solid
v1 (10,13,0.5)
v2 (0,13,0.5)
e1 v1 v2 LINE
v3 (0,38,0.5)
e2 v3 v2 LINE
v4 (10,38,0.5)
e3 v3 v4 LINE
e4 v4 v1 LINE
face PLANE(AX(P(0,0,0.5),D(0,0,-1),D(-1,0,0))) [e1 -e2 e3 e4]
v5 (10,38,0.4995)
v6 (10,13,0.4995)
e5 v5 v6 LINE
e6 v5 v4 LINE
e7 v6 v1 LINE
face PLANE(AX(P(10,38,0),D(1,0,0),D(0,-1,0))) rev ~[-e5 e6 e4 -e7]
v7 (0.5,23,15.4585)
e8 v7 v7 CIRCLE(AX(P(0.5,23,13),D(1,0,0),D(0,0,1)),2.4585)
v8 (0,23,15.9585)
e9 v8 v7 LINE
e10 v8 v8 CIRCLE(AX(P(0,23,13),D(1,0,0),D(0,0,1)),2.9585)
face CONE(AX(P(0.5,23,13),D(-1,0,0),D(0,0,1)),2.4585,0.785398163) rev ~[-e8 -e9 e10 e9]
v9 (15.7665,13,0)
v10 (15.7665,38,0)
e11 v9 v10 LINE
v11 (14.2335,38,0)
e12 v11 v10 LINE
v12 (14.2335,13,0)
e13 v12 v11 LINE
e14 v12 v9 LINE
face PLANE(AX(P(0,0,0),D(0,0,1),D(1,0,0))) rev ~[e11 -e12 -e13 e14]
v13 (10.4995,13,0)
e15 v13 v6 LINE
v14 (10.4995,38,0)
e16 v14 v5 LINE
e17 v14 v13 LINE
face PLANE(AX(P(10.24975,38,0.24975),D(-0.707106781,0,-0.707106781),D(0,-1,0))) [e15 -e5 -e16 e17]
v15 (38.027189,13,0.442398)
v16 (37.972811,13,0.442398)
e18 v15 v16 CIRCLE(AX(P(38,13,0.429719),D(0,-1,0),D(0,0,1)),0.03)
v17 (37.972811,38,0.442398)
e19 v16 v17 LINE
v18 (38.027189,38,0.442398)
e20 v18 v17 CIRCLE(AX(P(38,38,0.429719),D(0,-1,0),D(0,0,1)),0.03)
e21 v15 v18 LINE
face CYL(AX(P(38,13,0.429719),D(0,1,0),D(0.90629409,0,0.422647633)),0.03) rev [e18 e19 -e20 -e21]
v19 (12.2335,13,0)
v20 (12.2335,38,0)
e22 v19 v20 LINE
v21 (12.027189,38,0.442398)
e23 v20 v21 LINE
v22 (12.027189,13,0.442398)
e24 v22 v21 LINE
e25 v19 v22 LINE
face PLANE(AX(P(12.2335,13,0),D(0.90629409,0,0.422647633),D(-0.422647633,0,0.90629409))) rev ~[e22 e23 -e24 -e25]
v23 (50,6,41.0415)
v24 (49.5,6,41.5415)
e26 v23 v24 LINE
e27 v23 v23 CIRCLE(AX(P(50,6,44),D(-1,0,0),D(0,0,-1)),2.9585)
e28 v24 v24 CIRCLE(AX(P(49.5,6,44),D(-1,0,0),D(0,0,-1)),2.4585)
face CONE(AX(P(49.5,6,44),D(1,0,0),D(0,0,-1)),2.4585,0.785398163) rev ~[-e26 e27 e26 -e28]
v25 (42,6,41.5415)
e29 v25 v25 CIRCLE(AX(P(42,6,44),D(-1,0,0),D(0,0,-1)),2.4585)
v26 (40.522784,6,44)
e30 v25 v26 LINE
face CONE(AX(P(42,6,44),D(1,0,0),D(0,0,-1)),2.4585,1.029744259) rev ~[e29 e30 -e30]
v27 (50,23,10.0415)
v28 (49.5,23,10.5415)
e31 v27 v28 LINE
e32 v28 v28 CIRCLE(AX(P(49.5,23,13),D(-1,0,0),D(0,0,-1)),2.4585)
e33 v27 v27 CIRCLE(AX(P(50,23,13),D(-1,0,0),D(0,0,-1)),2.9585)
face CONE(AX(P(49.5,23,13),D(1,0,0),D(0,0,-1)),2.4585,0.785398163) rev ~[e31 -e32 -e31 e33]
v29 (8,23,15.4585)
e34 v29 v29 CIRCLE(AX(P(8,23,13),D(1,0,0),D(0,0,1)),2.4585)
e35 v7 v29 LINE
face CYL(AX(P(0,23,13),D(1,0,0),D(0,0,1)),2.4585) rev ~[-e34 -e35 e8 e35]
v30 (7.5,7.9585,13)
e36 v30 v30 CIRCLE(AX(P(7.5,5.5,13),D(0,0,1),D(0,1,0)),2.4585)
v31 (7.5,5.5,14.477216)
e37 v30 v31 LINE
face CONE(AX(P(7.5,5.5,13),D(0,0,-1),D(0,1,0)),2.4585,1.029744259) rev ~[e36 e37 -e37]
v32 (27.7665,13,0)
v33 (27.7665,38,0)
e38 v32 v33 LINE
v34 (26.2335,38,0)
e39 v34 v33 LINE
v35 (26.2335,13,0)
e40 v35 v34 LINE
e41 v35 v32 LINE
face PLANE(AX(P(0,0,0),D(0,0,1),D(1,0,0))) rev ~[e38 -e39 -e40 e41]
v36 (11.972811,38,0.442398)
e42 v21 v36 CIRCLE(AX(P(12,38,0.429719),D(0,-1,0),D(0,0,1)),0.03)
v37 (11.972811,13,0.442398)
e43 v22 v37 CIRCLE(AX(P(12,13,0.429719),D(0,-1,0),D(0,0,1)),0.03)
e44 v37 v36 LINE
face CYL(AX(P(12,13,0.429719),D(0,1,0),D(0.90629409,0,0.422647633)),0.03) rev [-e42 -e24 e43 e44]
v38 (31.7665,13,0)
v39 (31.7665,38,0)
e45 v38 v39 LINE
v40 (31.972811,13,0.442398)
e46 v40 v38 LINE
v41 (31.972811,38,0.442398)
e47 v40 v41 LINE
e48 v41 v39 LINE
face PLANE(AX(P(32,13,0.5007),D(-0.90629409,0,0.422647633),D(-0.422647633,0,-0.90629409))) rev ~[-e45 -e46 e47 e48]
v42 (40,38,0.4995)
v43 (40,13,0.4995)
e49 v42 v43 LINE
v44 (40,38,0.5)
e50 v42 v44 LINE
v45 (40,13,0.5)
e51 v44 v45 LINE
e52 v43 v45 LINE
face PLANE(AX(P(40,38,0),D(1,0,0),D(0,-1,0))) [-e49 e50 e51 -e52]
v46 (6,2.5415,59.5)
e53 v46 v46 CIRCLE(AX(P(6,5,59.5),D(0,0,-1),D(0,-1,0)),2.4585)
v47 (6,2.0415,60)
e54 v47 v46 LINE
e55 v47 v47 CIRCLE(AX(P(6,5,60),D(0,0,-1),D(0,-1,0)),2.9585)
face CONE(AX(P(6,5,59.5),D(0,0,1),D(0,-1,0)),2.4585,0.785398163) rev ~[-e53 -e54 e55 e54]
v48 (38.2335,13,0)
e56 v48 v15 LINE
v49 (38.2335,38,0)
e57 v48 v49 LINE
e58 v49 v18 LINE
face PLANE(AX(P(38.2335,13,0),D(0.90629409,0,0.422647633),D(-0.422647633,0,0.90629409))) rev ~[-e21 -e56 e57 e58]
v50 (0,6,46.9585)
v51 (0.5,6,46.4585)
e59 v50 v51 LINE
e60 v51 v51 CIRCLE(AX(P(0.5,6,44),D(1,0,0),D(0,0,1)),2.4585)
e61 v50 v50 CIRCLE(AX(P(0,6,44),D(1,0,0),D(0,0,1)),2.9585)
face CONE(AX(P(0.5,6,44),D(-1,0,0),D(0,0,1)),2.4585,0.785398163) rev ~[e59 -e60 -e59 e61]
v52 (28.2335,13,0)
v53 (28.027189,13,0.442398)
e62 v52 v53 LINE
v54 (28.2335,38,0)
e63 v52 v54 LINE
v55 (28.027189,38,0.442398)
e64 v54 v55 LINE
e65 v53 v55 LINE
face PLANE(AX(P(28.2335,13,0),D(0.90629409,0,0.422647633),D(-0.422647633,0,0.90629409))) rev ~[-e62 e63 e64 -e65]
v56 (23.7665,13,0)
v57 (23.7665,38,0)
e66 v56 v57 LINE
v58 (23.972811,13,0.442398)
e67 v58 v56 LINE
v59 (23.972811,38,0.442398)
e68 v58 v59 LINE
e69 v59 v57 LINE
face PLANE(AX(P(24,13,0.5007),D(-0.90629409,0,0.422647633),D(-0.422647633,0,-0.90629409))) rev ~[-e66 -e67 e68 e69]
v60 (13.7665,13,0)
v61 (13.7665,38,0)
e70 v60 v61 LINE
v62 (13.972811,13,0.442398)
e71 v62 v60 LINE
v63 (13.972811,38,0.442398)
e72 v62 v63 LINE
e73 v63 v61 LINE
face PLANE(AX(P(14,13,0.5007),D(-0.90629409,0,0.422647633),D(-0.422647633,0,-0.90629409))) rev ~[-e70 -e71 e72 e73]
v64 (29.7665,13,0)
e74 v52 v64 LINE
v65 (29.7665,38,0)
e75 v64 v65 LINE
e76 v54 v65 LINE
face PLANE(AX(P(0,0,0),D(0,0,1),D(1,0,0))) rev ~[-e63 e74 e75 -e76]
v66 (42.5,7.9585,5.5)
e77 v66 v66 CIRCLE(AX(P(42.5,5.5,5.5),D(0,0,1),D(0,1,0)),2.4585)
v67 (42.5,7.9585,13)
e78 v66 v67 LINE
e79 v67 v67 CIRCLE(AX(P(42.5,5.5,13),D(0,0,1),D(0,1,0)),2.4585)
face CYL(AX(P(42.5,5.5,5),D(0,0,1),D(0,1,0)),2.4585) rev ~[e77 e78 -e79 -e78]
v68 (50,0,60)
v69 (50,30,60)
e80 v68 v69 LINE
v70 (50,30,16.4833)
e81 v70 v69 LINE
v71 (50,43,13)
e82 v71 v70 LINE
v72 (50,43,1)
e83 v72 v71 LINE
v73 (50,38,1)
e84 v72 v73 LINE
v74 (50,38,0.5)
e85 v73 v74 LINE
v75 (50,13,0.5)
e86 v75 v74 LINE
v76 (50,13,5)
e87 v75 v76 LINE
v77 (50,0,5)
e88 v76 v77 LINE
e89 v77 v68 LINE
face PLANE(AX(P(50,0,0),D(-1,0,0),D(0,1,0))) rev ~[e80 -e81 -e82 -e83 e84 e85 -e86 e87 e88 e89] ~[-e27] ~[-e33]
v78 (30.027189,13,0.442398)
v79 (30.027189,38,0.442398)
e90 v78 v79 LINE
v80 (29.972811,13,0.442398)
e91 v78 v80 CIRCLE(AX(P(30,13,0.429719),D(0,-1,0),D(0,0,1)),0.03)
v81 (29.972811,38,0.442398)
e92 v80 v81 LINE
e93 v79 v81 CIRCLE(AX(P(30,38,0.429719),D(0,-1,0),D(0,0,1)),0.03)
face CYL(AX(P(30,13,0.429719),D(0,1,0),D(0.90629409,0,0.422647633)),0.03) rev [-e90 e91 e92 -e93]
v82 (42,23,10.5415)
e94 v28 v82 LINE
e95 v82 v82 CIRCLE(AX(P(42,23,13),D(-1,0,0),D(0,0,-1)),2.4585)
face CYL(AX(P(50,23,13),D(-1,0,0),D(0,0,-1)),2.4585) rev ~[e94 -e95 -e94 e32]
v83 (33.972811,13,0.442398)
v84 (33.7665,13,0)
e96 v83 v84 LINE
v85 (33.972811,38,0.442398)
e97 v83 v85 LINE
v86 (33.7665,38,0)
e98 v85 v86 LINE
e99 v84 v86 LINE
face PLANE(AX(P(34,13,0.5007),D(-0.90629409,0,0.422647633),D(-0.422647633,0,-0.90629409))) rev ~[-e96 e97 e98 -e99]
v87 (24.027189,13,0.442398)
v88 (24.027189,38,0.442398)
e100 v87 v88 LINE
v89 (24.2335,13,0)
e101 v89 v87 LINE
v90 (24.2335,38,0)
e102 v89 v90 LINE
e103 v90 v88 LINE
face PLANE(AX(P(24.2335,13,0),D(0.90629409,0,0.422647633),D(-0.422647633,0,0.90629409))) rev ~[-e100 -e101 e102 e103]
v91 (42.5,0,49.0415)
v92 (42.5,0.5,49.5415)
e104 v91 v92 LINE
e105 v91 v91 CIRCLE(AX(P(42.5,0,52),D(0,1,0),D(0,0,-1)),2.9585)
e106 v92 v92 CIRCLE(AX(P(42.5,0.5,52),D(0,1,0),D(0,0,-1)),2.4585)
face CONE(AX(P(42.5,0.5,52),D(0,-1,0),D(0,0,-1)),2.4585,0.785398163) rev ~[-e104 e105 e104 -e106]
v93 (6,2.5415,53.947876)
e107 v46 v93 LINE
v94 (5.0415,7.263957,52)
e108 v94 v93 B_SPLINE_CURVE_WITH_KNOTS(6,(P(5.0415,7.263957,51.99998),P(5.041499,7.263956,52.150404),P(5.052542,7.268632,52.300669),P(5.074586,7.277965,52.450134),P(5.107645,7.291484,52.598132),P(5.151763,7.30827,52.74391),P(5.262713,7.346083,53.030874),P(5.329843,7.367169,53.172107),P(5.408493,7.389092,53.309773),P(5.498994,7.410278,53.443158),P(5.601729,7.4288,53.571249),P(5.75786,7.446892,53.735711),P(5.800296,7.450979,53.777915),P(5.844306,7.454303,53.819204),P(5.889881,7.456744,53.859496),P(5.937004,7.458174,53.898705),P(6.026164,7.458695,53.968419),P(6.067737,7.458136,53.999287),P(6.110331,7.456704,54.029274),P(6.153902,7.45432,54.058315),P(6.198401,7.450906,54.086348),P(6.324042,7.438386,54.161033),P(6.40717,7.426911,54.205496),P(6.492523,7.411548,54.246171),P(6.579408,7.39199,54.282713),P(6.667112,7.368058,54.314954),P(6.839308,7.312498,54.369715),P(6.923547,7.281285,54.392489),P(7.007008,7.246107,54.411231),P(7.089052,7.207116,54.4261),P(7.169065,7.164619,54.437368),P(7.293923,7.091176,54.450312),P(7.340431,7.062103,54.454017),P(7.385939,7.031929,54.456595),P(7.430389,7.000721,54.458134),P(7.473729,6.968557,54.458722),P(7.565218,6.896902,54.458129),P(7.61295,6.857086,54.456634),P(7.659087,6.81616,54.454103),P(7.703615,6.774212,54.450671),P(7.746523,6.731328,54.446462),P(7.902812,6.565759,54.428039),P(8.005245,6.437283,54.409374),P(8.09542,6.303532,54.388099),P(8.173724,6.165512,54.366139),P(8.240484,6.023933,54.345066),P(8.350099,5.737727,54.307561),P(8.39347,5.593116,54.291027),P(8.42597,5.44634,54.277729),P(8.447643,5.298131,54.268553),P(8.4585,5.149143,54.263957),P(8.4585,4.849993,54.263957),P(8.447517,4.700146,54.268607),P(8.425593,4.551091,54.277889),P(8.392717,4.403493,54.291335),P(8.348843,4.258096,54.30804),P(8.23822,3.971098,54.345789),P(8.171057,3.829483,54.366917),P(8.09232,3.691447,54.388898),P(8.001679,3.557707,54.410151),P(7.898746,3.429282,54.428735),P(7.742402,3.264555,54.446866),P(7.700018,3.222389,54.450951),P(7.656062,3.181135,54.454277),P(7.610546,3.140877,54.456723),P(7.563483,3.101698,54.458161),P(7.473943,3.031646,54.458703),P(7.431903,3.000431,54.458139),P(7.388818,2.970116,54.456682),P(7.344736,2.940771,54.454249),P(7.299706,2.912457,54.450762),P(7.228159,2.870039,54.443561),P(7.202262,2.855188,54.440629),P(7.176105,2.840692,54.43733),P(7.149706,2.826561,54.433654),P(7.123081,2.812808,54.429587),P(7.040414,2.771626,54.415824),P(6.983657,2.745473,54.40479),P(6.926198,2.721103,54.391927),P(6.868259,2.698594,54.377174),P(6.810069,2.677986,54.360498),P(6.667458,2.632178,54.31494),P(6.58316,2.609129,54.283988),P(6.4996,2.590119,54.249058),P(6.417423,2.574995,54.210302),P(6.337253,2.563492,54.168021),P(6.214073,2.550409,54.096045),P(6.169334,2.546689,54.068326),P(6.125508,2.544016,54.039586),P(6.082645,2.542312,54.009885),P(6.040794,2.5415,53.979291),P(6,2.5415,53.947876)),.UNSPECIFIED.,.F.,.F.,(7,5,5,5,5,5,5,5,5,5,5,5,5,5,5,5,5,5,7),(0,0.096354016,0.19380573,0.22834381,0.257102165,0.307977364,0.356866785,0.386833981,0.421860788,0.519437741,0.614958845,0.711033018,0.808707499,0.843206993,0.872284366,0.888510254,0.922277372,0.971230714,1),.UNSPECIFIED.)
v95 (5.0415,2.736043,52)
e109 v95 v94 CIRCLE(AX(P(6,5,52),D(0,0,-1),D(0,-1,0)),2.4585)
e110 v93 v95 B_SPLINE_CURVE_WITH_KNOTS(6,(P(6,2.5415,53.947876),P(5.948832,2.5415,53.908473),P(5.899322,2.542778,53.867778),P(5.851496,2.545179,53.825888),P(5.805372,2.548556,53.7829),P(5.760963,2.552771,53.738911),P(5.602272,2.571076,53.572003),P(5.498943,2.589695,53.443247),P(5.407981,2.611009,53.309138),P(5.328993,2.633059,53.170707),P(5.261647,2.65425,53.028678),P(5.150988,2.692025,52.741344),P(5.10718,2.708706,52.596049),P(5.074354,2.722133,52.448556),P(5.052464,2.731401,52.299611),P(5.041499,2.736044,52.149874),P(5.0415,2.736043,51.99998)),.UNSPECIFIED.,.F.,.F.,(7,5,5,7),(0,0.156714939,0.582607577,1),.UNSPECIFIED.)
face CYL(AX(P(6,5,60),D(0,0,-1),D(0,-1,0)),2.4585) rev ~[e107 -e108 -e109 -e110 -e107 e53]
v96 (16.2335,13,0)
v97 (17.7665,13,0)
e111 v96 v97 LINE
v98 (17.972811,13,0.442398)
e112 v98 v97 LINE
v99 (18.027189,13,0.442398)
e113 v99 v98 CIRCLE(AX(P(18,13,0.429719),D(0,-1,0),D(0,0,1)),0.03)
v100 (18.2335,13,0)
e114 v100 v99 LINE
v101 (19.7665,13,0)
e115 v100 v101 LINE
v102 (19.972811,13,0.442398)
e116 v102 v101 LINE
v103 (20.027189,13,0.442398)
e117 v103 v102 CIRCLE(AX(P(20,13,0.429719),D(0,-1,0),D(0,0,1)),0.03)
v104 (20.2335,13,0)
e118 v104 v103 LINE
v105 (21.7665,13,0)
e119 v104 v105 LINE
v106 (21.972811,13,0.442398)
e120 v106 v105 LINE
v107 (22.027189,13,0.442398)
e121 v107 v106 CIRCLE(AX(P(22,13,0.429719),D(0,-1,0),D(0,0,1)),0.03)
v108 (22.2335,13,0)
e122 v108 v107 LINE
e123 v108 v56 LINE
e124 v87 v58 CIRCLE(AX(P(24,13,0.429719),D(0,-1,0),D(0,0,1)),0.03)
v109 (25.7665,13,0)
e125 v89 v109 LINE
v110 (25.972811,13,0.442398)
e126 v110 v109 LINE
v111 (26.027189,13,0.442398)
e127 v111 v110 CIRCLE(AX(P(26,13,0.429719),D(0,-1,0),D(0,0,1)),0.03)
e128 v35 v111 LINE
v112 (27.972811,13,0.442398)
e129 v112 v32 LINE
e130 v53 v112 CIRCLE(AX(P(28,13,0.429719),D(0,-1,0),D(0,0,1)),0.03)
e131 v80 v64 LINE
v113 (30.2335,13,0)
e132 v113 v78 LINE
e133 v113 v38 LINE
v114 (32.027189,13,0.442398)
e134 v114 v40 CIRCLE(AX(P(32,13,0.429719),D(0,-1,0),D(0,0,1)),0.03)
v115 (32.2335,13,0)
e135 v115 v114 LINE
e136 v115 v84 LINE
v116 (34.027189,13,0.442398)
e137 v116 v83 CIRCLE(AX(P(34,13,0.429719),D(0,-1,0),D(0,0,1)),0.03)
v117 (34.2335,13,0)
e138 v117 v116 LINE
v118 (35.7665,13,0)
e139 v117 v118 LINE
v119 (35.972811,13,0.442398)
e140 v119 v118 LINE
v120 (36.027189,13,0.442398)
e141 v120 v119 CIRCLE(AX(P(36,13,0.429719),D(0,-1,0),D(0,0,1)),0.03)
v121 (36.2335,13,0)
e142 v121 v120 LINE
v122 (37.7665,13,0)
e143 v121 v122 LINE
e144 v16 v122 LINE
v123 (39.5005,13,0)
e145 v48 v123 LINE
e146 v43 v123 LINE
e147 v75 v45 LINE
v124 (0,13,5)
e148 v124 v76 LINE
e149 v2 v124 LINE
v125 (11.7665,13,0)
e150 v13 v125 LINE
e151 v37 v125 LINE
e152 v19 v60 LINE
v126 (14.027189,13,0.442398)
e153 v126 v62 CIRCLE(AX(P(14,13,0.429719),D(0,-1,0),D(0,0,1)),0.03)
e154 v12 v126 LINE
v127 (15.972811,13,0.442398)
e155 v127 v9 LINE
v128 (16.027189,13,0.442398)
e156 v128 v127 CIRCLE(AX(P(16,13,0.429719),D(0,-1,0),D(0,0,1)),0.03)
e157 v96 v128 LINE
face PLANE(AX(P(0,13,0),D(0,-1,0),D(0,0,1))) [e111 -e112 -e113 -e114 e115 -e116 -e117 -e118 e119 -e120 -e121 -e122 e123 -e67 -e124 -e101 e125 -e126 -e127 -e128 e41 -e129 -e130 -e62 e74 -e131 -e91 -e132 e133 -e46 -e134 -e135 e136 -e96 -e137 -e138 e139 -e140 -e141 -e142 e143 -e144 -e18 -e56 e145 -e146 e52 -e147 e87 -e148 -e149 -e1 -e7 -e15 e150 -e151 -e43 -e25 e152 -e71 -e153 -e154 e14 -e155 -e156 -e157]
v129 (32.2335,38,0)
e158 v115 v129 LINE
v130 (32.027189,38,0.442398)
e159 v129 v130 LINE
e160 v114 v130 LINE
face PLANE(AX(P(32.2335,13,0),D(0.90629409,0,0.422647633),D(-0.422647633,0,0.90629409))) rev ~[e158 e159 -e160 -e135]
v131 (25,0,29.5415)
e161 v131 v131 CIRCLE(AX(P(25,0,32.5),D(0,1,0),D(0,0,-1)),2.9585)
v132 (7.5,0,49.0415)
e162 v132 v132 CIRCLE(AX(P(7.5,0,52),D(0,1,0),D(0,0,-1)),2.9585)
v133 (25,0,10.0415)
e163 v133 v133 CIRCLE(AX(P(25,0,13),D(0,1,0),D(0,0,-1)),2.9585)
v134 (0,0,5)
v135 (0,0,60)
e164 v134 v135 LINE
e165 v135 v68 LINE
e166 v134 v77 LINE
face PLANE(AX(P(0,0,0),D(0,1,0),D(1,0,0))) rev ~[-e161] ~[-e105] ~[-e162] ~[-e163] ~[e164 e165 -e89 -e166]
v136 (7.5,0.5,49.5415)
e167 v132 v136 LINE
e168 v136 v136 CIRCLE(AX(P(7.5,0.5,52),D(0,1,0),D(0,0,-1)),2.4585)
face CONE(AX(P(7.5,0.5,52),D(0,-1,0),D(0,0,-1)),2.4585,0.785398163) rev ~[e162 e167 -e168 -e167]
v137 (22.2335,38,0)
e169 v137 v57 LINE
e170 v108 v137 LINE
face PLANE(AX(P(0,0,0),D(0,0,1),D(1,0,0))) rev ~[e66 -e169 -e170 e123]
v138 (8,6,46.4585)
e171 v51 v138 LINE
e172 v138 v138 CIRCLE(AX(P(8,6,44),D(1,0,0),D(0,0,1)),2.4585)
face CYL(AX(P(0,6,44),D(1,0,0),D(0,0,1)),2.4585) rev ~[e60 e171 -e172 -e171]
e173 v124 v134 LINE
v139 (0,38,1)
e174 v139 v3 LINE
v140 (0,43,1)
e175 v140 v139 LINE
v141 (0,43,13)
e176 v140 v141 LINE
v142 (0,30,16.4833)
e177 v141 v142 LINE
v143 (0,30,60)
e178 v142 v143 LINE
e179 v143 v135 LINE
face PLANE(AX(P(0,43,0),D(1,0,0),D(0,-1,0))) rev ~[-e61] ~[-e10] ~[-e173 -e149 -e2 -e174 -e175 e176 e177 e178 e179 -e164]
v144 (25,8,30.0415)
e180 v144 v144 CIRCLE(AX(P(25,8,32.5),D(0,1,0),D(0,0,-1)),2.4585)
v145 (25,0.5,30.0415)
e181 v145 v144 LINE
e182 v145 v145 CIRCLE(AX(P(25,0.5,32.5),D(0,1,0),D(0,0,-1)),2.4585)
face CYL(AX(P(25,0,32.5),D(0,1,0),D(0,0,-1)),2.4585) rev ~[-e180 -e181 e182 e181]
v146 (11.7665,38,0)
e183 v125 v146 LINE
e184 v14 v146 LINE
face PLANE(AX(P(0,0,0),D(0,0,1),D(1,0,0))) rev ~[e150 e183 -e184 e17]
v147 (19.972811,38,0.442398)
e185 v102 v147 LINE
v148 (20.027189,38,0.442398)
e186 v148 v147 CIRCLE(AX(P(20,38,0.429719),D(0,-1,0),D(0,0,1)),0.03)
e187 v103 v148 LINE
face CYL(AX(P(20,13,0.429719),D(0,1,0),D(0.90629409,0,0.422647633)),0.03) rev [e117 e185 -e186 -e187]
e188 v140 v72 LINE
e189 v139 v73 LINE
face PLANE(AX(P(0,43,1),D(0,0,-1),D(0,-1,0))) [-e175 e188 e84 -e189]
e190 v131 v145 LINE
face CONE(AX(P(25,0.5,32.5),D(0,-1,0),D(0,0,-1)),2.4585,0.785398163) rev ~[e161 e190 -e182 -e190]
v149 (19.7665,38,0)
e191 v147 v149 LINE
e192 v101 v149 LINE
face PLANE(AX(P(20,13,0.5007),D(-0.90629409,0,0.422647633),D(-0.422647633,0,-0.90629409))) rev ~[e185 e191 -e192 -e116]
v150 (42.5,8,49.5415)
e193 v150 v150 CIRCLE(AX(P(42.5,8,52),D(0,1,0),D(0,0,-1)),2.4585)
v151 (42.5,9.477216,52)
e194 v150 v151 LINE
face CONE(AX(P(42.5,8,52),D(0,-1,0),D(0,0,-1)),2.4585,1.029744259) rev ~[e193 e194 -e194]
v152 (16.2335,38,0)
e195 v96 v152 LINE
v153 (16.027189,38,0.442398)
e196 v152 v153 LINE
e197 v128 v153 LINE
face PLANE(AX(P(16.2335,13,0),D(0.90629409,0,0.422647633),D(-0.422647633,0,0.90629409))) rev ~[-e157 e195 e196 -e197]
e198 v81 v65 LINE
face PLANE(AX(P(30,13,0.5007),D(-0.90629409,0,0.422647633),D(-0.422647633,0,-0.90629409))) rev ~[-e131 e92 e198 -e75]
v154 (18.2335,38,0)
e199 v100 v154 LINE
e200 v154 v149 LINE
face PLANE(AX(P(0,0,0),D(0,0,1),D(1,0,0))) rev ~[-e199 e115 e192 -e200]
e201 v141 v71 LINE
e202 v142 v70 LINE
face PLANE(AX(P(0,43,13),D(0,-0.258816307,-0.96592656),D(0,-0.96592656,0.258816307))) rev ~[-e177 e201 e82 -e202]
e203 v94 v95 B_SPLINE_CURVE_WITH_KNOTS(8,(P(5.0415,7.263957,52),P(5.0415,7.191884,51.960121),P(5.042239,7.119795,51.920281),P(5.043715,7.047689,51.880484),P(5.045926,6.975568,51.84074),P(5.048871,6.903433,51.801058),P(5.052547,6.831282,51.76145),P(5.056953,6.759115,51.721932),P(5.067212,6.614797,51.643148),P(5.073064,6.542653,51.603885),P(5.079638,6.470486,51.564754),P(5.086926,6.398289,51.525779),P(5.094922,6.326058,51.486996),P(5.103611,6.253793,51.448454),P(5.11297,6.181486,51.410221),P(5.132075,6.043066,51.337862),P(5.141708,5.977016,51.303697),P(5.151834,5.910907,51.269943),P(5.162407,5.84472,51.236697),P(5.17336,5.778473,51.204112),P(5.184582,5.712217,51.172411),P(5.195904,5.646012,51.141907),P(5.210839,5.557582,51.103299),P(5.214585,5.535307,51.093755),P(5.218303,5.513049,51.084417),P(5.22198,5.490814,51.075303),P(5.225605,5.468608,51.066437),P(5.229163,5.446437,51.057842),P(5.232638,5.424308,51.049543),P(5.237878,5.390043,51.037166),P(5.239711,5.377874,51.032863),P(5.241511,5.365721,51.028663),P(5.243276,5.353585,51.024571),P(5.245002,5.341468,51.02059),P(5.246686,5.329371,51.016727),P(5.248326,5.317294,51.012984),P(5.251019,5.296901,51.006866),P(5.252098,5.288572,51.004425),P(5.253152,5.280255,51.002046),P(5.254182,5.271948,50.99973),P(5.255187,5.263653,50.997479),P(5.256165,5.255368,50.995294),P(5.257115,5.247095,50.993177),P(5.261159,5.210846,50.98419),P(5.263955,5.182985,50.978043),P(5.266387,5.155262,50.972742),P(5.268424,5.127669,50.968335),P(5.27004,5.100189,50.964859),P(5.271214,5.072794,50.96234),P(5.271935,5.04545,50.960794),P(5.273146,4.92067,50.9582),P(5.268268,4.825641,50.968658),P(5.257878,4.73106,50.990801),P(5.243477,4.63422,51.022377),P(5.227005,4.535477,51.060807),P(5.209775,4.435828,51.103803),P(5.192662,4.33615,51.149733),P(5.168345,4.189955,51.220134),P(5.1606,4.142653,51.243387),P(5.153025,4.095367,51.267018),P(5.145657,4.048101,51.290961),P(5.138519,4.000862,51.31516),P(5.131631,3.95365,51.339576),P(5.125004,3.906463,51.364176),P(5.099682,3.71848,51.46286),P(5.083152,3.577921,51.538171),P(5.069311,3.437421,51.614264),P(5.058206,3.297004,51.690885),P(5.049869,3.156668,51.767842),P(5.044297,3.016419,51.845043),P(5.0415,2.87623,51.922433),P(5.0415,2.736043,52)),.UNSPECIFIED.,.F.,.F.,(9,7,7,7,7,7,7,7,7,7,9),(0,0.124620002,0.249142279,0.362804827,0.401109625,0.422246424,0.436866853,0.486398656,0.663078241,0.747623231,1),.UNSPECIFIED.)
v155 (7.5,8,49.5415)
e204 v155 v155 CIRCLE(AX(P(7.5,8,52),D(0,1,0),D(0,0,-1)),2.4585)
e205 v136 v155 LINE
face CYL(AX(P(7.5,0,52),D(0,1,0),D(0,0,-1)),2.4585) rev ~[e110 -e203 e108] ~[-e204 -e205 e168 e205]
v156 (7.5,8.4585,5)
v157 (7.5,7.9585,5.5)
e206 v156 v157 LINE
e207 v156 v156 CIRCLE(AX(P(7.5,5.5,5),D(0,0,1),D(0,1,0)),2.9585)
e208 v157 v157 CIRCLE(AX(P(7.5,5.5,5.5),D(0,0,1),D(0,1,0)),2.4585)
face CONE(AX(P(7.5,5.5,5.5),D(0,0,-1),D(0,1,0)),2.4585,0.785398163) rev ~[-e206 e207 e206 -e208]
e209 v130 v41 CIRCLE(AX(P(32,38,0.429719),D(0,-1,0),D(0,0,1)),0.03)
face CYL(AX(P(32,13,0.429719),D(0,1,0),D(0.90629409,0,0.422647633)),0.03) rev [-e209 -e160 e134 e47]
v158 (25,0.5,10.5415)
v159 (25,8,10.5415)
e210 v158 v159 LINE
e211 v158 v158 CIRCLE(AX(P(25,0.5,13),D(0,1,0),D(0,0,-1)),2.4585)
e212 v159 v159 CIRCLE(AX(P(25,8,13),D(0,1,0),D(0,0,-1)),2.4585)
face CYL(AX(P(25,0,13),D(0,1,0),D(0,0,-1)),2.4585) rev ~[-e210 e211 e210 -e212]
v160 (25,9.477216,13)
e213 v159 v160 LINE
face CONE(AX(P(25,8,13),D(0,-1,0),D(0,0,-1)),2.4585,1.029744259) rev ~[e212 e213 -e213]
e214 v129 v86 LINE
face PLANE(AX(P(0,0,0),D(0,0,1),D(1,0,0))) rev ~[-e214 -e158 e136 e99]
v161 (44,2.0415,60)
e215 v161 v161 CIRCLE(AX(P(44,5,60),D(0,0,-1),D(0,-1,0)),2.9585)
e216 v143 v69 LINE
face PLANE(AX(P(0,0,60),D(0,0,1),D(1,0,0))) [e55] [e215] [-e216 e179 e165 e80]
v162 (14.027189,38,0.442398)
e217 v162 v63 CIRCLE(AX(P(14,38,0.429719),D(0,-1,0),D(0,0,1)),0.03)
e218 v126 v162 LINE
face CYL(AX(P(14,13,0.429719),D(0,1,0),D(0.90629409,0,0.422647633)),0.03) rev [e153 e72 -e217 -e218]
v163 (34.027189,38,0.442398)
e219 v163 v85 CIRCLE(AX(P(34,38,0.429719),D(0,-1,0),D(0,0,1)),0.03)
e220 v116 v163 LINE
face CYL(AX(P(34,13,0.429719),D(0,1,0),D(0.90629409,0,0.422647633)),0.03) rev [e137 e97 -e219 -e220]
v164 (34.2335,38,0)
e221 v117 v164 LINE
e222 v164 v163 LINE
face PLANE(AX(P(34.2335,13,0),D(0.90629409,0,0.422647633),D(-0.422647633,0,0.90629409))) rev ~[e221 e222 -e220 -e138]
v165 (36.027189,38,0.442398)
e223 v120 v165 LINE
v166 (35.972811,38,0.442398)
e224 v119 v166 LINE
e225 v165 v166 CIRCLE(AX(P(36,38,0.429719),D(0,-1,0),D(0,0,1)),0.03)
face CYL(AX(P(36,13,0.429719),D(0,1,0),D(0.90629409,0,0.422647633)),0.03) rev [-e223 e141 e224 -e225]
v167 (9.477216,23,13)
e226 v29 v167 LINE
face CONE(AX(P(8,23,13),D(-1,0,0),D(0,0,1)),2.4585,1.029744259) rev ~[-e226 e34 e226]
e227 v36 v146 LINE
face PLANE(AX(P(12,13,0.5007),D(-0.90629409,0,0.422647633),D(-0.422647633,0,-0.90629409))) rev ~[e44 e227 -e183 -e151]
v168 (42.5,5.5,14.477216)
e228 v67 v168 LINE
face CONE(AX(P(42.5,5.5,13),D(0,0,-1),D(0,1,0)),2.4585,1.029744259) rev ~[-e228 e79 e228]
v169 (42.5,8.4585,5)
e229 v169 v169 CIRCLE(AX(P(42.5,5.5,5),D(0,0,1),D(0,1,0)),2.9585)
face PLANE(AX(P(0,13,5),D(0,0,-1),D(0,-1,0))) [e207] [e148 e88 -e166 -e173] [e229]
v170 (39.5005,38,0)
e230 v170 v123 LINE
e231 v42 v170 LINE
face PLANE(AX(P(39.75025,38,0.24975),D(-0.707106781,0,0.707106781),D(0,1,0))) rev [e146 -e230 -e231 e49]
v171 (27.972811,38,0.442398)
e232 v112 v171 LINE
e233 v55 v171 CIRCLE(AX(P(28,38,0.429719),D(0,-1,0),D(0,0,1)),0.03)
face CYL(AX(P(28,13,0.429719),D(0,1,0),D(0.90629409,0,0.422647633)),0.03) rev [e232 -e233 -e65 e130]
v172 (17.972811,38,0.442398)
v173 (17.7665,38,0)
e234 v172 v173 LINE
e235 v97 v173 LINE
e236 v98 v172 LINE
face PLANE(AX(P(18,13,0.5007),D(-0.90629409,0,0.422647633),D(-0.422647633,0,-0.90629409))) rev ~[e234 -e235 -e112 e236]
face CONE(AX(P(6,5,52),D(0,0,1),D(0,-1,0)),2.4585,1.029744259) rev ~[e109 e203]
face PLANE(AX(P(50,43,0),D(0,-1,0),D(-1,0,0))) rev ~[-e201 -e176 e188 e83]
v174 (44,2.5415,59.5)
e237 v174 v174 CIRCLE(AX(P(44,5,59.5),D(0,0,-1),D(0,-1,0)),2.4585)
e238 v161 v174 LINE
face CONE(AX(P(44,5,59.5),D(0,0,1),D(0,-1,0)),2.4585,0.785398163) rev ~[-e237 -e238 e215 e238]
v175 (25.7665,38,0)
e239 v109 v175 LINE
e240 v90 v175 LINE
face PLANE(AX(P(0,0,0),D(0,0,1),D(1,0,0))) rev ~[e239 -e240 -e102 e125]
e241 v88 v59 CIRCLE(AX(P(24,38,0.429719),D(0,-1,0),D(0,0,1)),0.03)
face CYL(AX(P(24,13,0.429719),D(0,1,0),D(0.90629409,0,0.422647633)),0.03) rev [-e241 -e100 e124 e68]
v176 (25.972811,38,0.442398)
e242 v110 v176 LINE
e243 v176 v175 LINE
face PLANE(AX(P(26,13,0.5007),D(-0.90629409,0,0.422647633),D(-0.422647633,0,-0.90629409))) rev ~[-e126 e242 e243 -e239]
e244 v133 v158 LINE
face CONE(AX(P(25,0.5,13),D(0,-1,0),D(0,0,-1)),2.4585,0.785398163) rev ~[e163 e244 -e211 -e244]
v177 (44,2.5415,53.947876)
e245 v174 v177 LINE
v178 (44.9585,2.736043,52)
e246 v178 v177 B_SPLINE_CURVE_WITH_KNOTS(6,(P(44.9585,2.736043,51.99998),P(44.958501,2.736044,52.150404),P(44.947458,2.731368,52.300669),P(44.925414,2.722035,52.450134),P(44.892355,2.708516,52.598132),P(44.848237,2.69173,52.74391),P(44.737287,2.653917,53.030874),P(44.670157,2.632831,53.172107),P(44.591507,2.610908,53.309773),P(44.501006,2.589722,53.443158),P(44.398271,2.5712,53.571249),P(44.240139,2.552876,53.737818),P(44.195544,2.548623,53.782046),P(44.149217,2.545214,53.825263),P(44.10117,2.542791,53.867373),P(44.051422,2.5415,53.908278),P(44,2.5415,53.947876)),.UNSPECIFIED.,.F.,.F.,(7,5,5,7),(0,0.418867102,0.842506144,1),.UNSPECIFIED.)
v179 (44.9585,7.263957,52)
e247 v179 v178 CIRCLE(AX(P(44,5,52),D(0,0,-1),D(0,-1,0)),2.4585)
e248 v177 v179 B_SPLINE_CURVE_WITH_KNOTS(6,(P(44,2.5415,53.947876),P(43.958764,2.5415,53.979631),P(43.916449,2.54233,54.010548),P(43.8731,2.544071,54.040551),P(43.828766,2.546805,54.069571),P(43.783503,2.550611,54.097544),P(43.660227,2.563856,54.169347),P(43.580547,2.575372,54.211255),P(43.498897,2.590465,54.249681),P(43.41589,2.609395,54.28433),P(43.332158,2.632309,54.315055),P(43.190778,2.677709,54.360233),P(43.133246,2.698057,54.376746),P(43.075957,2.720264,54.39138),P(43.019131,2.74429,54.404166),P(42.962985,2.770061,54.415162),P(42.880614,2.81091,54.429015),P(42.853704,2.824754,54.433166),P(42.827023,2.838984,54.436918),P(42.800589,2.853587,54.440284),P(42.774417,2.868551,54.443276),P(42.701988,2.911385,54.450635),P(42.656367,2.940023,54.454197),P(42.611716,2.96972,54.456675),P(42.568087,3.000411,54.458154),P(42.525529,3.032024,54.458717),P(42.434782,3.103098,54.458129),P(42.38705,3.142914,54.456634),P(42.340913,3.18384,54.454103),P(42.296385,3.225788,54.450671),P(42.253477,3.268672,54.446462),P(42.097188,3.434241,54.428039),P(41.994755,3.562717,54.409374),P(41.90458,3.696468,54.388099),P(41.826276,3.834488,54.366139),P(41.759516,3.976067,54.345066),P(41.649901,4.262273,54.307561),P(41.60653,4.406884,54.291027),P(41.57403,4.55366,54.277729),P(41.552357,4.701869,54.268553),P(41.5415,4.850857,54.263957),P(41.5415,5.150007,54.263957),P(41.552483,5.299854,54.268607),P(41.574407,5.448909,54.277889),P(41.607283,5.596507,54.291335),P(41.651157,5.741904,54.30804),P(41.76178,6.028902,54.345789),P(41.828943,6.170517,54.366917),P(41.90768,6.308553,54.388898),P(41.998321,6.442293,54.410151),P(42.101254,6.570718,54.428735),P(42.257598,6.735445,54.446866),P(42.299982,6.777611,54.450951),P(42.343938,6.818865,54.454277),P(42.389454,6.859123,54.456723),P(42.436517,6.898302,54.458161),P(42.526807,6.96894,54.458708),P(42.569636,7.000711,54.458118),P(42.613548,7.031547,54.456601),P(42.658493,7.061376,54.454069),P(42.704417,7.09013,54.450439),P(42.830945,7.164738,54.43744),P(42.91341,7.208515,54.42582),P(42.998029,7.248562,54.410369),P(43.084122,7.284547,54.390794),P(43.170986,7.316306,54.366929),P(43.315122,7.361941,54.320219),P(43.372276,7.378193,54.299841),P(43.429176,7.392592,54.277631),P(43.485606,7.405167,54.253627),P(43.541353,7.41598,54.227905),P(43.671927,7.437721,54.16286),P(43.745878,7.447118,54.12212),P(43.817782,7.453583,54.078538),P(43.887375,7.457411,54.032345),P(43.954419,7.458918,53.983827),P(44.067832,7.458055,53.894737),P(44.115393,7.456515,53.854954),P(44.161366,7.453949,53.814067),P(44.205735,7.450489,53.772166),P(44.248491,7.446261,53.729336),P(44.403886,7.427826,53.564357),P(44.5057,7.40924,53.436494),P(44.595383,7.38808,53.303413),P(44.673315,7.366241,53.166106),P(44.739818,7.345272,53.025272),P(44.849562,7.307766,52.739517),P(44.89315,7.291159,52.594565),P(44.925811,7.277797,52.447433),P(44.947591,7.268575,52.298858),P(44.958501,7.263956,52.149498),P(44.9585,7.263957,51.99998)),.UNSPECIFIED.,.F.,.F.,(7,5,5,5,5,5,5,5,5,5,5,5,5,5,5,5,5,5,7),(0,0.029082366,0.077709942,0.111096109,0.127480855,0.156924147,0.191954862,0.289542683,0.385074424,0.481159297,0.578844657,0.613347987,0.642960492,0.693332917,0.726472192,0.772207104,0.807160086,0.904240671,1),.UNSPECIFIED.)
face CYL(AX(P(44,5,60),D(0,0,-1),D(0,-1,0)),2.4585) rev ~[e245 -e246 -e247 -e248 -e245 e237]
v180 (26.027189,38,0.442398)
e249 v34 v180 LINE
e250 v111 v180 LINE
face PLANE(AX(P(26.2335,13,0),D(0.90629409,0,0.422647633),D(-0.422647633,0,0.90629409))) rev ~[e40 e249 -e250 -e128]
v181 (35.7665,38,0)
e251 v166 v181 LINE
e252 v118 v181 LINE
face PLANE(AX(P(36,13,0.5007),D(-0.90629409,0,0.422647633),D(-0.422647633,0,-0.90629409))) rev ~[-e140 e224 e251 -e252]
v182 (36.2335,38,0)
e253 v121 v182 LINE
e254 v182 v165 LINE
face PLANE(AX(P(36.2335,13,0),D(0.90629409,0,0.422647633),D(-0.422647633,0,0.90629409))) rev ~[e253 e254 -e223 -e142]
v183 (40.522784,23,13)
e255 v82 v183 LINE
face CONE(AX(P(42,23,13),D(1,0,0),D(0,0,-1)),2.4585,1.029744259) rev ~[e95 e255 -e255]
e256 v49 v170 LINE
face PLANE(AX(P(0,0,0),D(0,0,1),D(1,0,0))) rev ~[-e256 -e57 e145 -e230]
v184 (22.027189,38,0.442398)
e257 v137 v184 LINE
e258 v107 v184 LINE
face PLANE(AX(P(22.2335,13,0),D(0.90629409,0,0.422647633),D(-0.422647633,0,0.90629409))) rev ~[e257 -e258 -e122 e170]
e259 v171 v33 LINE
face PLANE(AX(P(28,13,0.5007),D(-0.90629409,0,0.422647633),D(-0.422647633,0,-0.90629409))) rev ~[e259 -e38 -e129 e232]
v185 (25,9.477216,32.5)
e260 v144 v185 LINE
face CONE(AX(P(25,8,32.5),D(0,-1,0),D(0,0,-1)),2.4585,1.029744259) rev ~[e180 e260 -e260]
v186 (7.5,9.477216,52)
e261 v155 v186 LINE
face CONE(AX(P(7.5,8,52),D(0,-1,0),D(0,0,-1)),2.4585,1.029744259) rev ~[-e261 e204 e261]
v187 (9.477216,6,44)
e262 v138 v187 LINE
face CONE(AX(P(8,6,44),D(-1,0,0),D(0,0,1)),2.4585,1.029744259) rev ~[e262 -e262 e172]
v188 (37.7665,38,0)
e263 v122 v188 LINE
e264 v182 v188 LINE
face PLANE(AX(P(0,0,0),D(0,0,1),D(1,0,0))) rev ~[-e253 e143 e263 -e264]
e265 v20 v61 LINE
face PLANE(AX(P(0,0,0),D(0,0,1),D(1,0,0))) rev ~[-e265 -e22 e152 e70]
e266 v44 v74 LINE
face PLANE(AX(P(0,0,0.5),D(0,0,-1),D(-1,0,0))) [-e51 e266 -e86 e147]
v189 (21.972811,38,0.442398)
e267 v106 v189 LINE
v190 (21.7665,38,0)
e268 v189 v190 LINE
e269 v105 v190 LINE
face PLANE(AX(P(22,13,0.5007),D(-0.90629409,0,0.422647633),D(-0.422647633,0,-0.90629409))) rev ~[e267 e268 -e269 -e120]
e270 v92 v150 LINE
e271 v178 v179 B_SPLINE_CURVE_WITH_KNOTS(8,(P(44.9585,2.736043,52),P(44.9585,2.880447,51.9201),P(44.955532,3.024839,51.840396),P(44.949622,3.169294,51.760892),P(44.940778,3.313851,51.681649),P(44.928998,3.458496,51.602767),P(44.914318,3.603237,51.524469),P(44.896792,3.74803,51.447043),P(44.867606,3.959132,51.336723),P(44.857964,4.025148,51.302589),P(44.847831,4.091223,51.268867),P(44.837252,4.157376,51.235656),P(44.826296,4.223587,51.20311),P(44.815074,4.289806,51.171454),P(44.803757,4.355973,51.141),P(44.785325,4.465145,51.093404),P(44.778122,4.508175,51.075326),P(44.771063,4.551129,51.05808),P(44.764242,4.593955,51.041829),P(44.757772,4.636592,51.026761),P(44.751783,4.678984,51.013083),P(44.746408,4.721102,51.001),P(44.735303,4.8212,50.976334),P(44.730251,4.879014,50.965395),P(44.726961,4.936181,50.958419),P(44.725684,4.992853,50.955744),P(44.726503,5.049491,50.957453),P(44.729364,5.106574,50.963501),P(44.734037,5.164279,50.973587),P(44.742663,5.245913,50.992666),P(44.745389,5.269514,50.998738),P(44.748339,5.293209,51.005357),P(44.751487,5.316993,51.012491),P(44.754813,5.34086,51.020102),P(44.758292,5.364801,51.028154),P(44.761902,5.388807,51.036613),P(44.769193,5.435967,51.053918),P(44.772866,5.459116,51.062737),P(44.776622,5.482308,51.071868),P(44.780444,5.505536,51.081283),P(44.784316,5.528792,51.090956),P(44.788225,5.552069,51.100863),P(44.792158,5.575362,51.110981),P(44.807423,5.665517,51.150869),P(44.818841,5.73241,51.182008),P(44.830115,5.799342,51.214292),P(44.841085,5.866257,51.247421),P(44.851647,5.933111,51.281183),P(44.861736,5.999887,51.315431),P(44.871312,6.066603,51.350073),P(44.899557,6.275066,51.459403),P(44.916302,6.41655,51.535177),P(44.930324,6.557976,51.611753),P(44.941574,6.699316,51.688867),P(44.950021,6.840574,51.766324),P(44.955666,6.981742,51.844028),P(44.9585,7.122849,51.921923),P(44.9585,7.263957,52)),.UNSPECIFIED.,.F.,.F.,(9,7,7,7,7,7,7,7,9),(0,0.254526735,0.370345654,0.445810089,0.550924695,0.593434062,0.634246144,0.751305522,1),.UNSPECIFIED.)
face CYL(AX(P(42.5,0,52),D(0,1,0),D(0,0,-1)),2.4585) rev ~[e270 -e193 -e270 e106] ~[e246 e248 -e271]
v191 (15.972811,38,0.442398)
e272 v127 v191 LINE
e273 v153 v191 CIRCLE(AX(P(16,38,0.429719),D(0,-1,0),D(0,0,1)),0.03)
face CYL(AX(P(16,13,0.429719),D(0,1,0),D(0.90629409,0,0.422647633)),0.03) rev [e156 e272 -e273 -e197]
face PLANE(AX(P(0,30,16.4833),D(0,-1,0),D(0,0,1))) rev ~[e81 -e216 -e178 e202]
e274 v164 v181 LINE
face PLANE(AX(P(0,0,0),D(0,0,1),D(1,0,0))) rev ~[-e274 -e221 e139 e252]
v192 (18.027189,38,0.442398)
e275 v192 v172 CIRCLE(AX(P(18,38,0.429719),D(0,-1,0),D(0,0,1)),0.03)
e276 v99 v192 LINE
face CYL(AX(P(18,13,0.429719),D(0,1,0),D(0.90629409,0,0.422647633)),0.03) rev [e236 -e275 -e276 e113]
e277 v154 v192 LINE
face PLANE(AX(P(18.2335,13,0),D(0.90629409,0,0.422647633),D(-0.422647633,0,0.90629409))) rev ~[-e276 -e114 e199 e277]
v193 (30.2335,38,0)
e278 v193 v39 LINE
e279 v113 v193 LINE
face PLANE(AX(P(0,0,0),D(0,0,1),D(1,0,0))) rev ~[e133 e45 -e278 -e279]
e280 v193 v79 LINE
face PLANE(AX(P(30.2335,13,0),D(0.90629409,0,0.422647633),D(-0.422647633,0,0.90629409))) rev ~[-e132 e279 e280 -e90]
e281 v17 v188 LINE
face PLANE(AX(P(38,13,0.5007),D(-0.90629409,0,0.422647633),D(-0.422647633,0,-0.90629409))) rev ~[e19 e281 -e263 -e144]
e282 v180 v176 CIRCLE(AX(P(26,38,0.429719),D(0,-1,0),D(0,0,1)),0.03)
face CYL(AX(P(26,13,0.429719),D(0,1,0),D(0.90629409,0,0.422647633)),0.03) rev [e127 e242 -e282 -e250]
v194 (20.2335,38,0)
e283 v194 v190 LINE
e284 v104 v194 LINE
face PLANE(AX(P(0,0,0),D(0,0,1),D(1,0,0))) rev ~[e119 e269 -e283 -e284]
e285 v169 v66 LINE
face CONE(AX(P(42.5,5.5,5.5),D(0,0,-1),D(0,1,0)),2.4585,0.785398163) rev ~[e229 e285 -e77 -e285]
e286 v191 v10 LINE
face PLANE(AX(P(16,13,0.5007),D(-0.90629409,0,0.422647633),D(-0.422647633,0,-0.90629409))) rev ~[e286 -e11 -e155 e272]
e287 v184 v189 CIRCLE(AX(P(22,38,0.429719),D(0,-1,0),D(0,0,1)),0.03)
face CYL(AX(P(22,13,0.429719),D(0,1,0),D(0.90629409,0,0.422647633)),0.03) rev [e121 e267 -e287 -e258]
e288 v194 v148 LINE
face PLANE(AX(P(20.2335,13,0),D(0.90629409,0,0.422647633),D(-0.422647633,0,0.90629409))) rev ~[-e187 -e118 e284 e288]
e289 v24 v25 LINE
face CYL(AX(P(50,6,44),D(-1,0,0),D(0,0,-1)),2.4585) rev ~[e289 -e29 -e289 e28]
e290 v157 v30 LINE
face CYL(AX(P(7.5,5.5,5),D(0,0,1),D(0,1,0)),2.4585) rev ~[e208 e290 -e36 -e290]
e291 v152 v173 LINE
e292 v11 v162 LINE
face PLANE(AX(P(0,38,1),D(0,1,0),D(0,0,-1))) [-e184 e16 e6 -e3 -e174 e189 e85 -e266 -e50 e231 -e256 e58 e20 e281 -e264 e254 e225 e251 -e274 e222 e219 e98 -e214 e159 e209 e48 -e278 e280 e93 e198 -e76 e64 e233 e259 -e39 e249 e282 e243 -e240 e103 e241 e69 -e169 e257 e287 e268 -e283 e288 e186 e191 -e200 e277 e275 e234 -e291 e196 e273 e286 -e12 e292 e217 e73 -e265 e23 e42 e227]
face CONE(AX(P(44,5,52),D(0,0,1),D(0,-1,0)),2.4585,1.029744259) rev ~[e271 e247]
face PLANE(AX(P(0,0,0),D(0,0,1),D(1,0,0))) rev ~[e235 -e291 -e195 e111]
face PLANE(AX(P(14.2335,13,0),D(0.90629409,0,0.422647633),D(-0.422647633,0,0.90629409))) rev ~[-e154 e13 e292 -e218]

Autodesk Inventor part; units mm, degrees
ref_plane "YZ Plane" through (0, 0, 0) normal (1, 0, 0) x (0, 1, 0)
ref_plane "XZ Plane" through (0, 0, 0) normal (0, 1, 0) x (-1, 0, 0)
ref_plane "XY Plane" through (0, 0, 0) normal (0, 0, 1) x (1, 0, 0)
sketch "Sketch1" plane through (0, 0, 0) normal (0, 0, 1) x (1, 0, 0)
  line L0 (0, 0) -> (50, 0)
  line L1 (50, 0) -> (50, 43)
  line L2 (50, 43) -> (0, 43)
  line L3 (0, 43) -> (0, 0)
  dimension "d0" = 50
  dimension "d1" = 43
extrude "Extrusion1" add sketch "Sketch1" along normal blind 60
sketch "Sketch2" plane through (0, 0, 0) normal (-1, 0, 0) x (0, 0, 1)
  line L0 (60, 0) -> (60, 43) projected
  line L1 (0, 43) -> (60, 43) projected
  line L2 (0, 43) -> (0, 0) projected
  line L3 (0, 0) -> (60, 0) projected
  line L4 (0, 13) -> (5, 13)
  line L5 (5, 13) -> (5, 0)
  line L6 (5, 0) -> (0, 0)
  line L7 (0, 0) -> (0, 13)
  line L8 (0, 43) -> (1, 43)
  line L9 (1, 43) -> (1, 38)
  line L10 (1, 38) -> (0, 38)
  line L11 (0, 38) -> (0, 43)
  line L12 (13, 43) -> (16.4833, 30)
  line L13 (16.4833, 30) -> (60, 30)
  dimension "d4" = 15
  dimension "d5" = 30
  dimension "d6" = 1
  dimension "d7" = 25
  dimension "d8" = 13
  dimension "d9" = 5
extrude "Extrusion2" cut sketch "Sketch2" against normal blind 50 contours L13 L12 L1 L0 | L3 L2 L4 L5 | L9 L10 L2 L1
sketch "Sketch3" plane through (0, 0, 60) normal (0, -1, 0) x (1, 0, 0)
  line L0 (50, -55) -> (50, 0) projected
  line L1 (50, 0) -> (0, 0) projected
  line L2 (0, -55) -> (0, 0) projected
  point P0 (0, -60)
  point P1 (7.5, -8)
  point P2 (42.5, -8)
  point P3 (25, -27.5)
  point P4 (25, -47)
  dimension "d12" = 35
  dimension "d13" = 7.5
  dimension "d14" = 27.5
  dimension "d15" = 8
  dimension "d17" = 25
  dimension "d18" = 25
  dimension "d19" = 39
  dimension "d20" = 8
hole "Hole1" at (7.5, 0, 52) at (42.5, 0, 52) at (25, 0, 32.5) at (25, 0, 13) direction (0, 1, 0) diameter 4.917 depth 8 tip angle 118 thread size "M6x1" class "6H" standard "ANSI Metric M Profile"
chamfer "Chamfer1" distance 0.5 angle 45 4 edges at (7.5, 0, 54.4585) (42.5, 0, 54.4585) (25, 0, 34.9585) (25, 0, 15.4585)
sketch "Sketch4" plane through (0, 13, 0) normal (-1, 0, 0) x (0, 0, 1)
  line L0 (5, -13) -> (60, -13) projected
  line L1 (60, -13) -> (60, 17) projected
  point P0 (0, -13)
  point P1 (13, 10)
  point P2 (44, -7)
  dimension "d31" = 31
  dimension "d32" = 16
  dimension "d33" = 17
  dimension "d34" = 6
hole "Hole2" at (0, 23, 13) at (0, 6, 44) direction (1, 0, 0) diameter 4.917 depth 8 tip angle 118 thread size "M6x1" class "6H" standard "ANSI Metric M Profile"
chamfer "Chamfer2" distance 0.5 angle 45 2 edges at (0, 6, 41.5415) (0, 23, 10.5415)
sketch "Sketch5" plane through (50, 13, 0) normal (1, 0, 0) x (0, 0, -1)
  circle A0 centre (-13, 10) radius 2.4585 projected
  circle A1 centre (-44, -7) radius 2.4585 projected
  point P0 (0, -13)
hole "Hole3" at (50, 6, 44) at (50, 23, 13) direction (-1, 0, 0) diameter 4.917 depth 8 tip angle 118 thread size "M6x1" class "6H" standard "ANSI Metric M Profile"
chamfer "Chamfer3" distance 0.5 angle 45 2 edges at (50, 6, 46.4585) (50, 23, 15.4585)
sketch "Sketch6" plane through (0, 0, 60) normal (0, 0, 1) x (1, 0, 0)
  line L0 (0, 0) -> (0, 30) projected
  line L1 (50, 0) -> (0, 0) projected
  point P0 (6, 5)
  point P1 (44, 5)
  dimension "d55" = 5
  dimension "d56" = 5
  dimension "d57" = 38
  dimension "d58" = 6
hole "Hole4" at (6, 5, 60) at (44, 5, 60) direction (0, 0, -1) diameter 4.917 depth 8 tip angle 118 thread size "M6x1" class "6H" standard "ANSI Metric M Profile"
chamfer "Chamfer4" distance 0.5 angle 45 2 edges at (6, 7.4585, 60) (44, 7.4585, 60)
sketch "Sketch7" plane through (0, 0, 5) normal (0, 0, -1) x (-1, 0, 0)
  line L0 (0, 0) -> (-50, 0) projected
  line L1 (0, 13) -> (0, 0) projected
  point P0 (-42.5, 5.5)
  point P1 (-7.5, 5.5)
  dimension "d69" = 35
  dimension "d70" = 5.5
  dimension "d71" = 7.5
hole "Hole5" at (42.5, 5.5, 5) at (7.5, 5.5, 5) direction (0, 0, 1) diameter 4.917 depth 8 tip angle 118 thread size "M6x1" class "6H" standard "ANSI Metric M Profile"
chamfer "Chamfer5" distance 0.5 angle 45 2 edges at (42.5, 3.0415, 5) (7.5, 3.0415, 5)
sketch "Sketch8" plane through (0, 0, 0) normal (0, 0, -1) x (-1, 0, 0)
  line L0 (0, 38) -> (-50, 38) projected
  line L1 (-50, 13) -> (-50, 38) projected
  line L2 (-50, 13) -> (0, 13) projected
  line L3 (0, 38) -> (0, 13) projected
  line L4 (-40, 38) -> (-40, 13)
  line L5 (-10, 38) -> (-10, 13)
  point P0 (0, 0)
  dimension "d82" = 30
  dimension "d83" = 10
extrude "Extrusion3" cut sketch "Sketch8" against normal blind 0.5 contours L3 L2 L5 L0 | L4 L2 L1 L0
sketch "Sketch9" plane through (0, 13, 5) normal (0, -1, 0) x (1, 0, 0)
  line L0 (40, -5) -> (40, -4.5) projected
  line L1 (40, -5) -> (10, -5) projected
  line L2 (38.2335, -5) -> (38, -4.4993)
  line L3 (38, -4.4993) -> (37.7665, -5)
  line L4 (38.2335, -5) -> (37.7665, -5)
  line L5 (38, -4.4993) -> (38, -5)
  point P0 (0, -5)
  dimension "d87" = 50
  dimension "d90" = 0.467
  dimension "d91" = 2
extrude "Extrusion4" cut sketch "Sketch9" against normal blind 25
fillet "Fillet1" radius 0.03 1 edges at (38, 25.5, 0.5007)
pattern_linear "Rectangular Pattern1" count 14 spacing 2 along (-1, 0, 0) of "Extrusion4", "Fillet1"
chamfer "Chamfer6" distance 0.5 angle 45 2 edges at (40, 25.5, 0) (10, 25.5, 0)
properties part number "MOTOR"
